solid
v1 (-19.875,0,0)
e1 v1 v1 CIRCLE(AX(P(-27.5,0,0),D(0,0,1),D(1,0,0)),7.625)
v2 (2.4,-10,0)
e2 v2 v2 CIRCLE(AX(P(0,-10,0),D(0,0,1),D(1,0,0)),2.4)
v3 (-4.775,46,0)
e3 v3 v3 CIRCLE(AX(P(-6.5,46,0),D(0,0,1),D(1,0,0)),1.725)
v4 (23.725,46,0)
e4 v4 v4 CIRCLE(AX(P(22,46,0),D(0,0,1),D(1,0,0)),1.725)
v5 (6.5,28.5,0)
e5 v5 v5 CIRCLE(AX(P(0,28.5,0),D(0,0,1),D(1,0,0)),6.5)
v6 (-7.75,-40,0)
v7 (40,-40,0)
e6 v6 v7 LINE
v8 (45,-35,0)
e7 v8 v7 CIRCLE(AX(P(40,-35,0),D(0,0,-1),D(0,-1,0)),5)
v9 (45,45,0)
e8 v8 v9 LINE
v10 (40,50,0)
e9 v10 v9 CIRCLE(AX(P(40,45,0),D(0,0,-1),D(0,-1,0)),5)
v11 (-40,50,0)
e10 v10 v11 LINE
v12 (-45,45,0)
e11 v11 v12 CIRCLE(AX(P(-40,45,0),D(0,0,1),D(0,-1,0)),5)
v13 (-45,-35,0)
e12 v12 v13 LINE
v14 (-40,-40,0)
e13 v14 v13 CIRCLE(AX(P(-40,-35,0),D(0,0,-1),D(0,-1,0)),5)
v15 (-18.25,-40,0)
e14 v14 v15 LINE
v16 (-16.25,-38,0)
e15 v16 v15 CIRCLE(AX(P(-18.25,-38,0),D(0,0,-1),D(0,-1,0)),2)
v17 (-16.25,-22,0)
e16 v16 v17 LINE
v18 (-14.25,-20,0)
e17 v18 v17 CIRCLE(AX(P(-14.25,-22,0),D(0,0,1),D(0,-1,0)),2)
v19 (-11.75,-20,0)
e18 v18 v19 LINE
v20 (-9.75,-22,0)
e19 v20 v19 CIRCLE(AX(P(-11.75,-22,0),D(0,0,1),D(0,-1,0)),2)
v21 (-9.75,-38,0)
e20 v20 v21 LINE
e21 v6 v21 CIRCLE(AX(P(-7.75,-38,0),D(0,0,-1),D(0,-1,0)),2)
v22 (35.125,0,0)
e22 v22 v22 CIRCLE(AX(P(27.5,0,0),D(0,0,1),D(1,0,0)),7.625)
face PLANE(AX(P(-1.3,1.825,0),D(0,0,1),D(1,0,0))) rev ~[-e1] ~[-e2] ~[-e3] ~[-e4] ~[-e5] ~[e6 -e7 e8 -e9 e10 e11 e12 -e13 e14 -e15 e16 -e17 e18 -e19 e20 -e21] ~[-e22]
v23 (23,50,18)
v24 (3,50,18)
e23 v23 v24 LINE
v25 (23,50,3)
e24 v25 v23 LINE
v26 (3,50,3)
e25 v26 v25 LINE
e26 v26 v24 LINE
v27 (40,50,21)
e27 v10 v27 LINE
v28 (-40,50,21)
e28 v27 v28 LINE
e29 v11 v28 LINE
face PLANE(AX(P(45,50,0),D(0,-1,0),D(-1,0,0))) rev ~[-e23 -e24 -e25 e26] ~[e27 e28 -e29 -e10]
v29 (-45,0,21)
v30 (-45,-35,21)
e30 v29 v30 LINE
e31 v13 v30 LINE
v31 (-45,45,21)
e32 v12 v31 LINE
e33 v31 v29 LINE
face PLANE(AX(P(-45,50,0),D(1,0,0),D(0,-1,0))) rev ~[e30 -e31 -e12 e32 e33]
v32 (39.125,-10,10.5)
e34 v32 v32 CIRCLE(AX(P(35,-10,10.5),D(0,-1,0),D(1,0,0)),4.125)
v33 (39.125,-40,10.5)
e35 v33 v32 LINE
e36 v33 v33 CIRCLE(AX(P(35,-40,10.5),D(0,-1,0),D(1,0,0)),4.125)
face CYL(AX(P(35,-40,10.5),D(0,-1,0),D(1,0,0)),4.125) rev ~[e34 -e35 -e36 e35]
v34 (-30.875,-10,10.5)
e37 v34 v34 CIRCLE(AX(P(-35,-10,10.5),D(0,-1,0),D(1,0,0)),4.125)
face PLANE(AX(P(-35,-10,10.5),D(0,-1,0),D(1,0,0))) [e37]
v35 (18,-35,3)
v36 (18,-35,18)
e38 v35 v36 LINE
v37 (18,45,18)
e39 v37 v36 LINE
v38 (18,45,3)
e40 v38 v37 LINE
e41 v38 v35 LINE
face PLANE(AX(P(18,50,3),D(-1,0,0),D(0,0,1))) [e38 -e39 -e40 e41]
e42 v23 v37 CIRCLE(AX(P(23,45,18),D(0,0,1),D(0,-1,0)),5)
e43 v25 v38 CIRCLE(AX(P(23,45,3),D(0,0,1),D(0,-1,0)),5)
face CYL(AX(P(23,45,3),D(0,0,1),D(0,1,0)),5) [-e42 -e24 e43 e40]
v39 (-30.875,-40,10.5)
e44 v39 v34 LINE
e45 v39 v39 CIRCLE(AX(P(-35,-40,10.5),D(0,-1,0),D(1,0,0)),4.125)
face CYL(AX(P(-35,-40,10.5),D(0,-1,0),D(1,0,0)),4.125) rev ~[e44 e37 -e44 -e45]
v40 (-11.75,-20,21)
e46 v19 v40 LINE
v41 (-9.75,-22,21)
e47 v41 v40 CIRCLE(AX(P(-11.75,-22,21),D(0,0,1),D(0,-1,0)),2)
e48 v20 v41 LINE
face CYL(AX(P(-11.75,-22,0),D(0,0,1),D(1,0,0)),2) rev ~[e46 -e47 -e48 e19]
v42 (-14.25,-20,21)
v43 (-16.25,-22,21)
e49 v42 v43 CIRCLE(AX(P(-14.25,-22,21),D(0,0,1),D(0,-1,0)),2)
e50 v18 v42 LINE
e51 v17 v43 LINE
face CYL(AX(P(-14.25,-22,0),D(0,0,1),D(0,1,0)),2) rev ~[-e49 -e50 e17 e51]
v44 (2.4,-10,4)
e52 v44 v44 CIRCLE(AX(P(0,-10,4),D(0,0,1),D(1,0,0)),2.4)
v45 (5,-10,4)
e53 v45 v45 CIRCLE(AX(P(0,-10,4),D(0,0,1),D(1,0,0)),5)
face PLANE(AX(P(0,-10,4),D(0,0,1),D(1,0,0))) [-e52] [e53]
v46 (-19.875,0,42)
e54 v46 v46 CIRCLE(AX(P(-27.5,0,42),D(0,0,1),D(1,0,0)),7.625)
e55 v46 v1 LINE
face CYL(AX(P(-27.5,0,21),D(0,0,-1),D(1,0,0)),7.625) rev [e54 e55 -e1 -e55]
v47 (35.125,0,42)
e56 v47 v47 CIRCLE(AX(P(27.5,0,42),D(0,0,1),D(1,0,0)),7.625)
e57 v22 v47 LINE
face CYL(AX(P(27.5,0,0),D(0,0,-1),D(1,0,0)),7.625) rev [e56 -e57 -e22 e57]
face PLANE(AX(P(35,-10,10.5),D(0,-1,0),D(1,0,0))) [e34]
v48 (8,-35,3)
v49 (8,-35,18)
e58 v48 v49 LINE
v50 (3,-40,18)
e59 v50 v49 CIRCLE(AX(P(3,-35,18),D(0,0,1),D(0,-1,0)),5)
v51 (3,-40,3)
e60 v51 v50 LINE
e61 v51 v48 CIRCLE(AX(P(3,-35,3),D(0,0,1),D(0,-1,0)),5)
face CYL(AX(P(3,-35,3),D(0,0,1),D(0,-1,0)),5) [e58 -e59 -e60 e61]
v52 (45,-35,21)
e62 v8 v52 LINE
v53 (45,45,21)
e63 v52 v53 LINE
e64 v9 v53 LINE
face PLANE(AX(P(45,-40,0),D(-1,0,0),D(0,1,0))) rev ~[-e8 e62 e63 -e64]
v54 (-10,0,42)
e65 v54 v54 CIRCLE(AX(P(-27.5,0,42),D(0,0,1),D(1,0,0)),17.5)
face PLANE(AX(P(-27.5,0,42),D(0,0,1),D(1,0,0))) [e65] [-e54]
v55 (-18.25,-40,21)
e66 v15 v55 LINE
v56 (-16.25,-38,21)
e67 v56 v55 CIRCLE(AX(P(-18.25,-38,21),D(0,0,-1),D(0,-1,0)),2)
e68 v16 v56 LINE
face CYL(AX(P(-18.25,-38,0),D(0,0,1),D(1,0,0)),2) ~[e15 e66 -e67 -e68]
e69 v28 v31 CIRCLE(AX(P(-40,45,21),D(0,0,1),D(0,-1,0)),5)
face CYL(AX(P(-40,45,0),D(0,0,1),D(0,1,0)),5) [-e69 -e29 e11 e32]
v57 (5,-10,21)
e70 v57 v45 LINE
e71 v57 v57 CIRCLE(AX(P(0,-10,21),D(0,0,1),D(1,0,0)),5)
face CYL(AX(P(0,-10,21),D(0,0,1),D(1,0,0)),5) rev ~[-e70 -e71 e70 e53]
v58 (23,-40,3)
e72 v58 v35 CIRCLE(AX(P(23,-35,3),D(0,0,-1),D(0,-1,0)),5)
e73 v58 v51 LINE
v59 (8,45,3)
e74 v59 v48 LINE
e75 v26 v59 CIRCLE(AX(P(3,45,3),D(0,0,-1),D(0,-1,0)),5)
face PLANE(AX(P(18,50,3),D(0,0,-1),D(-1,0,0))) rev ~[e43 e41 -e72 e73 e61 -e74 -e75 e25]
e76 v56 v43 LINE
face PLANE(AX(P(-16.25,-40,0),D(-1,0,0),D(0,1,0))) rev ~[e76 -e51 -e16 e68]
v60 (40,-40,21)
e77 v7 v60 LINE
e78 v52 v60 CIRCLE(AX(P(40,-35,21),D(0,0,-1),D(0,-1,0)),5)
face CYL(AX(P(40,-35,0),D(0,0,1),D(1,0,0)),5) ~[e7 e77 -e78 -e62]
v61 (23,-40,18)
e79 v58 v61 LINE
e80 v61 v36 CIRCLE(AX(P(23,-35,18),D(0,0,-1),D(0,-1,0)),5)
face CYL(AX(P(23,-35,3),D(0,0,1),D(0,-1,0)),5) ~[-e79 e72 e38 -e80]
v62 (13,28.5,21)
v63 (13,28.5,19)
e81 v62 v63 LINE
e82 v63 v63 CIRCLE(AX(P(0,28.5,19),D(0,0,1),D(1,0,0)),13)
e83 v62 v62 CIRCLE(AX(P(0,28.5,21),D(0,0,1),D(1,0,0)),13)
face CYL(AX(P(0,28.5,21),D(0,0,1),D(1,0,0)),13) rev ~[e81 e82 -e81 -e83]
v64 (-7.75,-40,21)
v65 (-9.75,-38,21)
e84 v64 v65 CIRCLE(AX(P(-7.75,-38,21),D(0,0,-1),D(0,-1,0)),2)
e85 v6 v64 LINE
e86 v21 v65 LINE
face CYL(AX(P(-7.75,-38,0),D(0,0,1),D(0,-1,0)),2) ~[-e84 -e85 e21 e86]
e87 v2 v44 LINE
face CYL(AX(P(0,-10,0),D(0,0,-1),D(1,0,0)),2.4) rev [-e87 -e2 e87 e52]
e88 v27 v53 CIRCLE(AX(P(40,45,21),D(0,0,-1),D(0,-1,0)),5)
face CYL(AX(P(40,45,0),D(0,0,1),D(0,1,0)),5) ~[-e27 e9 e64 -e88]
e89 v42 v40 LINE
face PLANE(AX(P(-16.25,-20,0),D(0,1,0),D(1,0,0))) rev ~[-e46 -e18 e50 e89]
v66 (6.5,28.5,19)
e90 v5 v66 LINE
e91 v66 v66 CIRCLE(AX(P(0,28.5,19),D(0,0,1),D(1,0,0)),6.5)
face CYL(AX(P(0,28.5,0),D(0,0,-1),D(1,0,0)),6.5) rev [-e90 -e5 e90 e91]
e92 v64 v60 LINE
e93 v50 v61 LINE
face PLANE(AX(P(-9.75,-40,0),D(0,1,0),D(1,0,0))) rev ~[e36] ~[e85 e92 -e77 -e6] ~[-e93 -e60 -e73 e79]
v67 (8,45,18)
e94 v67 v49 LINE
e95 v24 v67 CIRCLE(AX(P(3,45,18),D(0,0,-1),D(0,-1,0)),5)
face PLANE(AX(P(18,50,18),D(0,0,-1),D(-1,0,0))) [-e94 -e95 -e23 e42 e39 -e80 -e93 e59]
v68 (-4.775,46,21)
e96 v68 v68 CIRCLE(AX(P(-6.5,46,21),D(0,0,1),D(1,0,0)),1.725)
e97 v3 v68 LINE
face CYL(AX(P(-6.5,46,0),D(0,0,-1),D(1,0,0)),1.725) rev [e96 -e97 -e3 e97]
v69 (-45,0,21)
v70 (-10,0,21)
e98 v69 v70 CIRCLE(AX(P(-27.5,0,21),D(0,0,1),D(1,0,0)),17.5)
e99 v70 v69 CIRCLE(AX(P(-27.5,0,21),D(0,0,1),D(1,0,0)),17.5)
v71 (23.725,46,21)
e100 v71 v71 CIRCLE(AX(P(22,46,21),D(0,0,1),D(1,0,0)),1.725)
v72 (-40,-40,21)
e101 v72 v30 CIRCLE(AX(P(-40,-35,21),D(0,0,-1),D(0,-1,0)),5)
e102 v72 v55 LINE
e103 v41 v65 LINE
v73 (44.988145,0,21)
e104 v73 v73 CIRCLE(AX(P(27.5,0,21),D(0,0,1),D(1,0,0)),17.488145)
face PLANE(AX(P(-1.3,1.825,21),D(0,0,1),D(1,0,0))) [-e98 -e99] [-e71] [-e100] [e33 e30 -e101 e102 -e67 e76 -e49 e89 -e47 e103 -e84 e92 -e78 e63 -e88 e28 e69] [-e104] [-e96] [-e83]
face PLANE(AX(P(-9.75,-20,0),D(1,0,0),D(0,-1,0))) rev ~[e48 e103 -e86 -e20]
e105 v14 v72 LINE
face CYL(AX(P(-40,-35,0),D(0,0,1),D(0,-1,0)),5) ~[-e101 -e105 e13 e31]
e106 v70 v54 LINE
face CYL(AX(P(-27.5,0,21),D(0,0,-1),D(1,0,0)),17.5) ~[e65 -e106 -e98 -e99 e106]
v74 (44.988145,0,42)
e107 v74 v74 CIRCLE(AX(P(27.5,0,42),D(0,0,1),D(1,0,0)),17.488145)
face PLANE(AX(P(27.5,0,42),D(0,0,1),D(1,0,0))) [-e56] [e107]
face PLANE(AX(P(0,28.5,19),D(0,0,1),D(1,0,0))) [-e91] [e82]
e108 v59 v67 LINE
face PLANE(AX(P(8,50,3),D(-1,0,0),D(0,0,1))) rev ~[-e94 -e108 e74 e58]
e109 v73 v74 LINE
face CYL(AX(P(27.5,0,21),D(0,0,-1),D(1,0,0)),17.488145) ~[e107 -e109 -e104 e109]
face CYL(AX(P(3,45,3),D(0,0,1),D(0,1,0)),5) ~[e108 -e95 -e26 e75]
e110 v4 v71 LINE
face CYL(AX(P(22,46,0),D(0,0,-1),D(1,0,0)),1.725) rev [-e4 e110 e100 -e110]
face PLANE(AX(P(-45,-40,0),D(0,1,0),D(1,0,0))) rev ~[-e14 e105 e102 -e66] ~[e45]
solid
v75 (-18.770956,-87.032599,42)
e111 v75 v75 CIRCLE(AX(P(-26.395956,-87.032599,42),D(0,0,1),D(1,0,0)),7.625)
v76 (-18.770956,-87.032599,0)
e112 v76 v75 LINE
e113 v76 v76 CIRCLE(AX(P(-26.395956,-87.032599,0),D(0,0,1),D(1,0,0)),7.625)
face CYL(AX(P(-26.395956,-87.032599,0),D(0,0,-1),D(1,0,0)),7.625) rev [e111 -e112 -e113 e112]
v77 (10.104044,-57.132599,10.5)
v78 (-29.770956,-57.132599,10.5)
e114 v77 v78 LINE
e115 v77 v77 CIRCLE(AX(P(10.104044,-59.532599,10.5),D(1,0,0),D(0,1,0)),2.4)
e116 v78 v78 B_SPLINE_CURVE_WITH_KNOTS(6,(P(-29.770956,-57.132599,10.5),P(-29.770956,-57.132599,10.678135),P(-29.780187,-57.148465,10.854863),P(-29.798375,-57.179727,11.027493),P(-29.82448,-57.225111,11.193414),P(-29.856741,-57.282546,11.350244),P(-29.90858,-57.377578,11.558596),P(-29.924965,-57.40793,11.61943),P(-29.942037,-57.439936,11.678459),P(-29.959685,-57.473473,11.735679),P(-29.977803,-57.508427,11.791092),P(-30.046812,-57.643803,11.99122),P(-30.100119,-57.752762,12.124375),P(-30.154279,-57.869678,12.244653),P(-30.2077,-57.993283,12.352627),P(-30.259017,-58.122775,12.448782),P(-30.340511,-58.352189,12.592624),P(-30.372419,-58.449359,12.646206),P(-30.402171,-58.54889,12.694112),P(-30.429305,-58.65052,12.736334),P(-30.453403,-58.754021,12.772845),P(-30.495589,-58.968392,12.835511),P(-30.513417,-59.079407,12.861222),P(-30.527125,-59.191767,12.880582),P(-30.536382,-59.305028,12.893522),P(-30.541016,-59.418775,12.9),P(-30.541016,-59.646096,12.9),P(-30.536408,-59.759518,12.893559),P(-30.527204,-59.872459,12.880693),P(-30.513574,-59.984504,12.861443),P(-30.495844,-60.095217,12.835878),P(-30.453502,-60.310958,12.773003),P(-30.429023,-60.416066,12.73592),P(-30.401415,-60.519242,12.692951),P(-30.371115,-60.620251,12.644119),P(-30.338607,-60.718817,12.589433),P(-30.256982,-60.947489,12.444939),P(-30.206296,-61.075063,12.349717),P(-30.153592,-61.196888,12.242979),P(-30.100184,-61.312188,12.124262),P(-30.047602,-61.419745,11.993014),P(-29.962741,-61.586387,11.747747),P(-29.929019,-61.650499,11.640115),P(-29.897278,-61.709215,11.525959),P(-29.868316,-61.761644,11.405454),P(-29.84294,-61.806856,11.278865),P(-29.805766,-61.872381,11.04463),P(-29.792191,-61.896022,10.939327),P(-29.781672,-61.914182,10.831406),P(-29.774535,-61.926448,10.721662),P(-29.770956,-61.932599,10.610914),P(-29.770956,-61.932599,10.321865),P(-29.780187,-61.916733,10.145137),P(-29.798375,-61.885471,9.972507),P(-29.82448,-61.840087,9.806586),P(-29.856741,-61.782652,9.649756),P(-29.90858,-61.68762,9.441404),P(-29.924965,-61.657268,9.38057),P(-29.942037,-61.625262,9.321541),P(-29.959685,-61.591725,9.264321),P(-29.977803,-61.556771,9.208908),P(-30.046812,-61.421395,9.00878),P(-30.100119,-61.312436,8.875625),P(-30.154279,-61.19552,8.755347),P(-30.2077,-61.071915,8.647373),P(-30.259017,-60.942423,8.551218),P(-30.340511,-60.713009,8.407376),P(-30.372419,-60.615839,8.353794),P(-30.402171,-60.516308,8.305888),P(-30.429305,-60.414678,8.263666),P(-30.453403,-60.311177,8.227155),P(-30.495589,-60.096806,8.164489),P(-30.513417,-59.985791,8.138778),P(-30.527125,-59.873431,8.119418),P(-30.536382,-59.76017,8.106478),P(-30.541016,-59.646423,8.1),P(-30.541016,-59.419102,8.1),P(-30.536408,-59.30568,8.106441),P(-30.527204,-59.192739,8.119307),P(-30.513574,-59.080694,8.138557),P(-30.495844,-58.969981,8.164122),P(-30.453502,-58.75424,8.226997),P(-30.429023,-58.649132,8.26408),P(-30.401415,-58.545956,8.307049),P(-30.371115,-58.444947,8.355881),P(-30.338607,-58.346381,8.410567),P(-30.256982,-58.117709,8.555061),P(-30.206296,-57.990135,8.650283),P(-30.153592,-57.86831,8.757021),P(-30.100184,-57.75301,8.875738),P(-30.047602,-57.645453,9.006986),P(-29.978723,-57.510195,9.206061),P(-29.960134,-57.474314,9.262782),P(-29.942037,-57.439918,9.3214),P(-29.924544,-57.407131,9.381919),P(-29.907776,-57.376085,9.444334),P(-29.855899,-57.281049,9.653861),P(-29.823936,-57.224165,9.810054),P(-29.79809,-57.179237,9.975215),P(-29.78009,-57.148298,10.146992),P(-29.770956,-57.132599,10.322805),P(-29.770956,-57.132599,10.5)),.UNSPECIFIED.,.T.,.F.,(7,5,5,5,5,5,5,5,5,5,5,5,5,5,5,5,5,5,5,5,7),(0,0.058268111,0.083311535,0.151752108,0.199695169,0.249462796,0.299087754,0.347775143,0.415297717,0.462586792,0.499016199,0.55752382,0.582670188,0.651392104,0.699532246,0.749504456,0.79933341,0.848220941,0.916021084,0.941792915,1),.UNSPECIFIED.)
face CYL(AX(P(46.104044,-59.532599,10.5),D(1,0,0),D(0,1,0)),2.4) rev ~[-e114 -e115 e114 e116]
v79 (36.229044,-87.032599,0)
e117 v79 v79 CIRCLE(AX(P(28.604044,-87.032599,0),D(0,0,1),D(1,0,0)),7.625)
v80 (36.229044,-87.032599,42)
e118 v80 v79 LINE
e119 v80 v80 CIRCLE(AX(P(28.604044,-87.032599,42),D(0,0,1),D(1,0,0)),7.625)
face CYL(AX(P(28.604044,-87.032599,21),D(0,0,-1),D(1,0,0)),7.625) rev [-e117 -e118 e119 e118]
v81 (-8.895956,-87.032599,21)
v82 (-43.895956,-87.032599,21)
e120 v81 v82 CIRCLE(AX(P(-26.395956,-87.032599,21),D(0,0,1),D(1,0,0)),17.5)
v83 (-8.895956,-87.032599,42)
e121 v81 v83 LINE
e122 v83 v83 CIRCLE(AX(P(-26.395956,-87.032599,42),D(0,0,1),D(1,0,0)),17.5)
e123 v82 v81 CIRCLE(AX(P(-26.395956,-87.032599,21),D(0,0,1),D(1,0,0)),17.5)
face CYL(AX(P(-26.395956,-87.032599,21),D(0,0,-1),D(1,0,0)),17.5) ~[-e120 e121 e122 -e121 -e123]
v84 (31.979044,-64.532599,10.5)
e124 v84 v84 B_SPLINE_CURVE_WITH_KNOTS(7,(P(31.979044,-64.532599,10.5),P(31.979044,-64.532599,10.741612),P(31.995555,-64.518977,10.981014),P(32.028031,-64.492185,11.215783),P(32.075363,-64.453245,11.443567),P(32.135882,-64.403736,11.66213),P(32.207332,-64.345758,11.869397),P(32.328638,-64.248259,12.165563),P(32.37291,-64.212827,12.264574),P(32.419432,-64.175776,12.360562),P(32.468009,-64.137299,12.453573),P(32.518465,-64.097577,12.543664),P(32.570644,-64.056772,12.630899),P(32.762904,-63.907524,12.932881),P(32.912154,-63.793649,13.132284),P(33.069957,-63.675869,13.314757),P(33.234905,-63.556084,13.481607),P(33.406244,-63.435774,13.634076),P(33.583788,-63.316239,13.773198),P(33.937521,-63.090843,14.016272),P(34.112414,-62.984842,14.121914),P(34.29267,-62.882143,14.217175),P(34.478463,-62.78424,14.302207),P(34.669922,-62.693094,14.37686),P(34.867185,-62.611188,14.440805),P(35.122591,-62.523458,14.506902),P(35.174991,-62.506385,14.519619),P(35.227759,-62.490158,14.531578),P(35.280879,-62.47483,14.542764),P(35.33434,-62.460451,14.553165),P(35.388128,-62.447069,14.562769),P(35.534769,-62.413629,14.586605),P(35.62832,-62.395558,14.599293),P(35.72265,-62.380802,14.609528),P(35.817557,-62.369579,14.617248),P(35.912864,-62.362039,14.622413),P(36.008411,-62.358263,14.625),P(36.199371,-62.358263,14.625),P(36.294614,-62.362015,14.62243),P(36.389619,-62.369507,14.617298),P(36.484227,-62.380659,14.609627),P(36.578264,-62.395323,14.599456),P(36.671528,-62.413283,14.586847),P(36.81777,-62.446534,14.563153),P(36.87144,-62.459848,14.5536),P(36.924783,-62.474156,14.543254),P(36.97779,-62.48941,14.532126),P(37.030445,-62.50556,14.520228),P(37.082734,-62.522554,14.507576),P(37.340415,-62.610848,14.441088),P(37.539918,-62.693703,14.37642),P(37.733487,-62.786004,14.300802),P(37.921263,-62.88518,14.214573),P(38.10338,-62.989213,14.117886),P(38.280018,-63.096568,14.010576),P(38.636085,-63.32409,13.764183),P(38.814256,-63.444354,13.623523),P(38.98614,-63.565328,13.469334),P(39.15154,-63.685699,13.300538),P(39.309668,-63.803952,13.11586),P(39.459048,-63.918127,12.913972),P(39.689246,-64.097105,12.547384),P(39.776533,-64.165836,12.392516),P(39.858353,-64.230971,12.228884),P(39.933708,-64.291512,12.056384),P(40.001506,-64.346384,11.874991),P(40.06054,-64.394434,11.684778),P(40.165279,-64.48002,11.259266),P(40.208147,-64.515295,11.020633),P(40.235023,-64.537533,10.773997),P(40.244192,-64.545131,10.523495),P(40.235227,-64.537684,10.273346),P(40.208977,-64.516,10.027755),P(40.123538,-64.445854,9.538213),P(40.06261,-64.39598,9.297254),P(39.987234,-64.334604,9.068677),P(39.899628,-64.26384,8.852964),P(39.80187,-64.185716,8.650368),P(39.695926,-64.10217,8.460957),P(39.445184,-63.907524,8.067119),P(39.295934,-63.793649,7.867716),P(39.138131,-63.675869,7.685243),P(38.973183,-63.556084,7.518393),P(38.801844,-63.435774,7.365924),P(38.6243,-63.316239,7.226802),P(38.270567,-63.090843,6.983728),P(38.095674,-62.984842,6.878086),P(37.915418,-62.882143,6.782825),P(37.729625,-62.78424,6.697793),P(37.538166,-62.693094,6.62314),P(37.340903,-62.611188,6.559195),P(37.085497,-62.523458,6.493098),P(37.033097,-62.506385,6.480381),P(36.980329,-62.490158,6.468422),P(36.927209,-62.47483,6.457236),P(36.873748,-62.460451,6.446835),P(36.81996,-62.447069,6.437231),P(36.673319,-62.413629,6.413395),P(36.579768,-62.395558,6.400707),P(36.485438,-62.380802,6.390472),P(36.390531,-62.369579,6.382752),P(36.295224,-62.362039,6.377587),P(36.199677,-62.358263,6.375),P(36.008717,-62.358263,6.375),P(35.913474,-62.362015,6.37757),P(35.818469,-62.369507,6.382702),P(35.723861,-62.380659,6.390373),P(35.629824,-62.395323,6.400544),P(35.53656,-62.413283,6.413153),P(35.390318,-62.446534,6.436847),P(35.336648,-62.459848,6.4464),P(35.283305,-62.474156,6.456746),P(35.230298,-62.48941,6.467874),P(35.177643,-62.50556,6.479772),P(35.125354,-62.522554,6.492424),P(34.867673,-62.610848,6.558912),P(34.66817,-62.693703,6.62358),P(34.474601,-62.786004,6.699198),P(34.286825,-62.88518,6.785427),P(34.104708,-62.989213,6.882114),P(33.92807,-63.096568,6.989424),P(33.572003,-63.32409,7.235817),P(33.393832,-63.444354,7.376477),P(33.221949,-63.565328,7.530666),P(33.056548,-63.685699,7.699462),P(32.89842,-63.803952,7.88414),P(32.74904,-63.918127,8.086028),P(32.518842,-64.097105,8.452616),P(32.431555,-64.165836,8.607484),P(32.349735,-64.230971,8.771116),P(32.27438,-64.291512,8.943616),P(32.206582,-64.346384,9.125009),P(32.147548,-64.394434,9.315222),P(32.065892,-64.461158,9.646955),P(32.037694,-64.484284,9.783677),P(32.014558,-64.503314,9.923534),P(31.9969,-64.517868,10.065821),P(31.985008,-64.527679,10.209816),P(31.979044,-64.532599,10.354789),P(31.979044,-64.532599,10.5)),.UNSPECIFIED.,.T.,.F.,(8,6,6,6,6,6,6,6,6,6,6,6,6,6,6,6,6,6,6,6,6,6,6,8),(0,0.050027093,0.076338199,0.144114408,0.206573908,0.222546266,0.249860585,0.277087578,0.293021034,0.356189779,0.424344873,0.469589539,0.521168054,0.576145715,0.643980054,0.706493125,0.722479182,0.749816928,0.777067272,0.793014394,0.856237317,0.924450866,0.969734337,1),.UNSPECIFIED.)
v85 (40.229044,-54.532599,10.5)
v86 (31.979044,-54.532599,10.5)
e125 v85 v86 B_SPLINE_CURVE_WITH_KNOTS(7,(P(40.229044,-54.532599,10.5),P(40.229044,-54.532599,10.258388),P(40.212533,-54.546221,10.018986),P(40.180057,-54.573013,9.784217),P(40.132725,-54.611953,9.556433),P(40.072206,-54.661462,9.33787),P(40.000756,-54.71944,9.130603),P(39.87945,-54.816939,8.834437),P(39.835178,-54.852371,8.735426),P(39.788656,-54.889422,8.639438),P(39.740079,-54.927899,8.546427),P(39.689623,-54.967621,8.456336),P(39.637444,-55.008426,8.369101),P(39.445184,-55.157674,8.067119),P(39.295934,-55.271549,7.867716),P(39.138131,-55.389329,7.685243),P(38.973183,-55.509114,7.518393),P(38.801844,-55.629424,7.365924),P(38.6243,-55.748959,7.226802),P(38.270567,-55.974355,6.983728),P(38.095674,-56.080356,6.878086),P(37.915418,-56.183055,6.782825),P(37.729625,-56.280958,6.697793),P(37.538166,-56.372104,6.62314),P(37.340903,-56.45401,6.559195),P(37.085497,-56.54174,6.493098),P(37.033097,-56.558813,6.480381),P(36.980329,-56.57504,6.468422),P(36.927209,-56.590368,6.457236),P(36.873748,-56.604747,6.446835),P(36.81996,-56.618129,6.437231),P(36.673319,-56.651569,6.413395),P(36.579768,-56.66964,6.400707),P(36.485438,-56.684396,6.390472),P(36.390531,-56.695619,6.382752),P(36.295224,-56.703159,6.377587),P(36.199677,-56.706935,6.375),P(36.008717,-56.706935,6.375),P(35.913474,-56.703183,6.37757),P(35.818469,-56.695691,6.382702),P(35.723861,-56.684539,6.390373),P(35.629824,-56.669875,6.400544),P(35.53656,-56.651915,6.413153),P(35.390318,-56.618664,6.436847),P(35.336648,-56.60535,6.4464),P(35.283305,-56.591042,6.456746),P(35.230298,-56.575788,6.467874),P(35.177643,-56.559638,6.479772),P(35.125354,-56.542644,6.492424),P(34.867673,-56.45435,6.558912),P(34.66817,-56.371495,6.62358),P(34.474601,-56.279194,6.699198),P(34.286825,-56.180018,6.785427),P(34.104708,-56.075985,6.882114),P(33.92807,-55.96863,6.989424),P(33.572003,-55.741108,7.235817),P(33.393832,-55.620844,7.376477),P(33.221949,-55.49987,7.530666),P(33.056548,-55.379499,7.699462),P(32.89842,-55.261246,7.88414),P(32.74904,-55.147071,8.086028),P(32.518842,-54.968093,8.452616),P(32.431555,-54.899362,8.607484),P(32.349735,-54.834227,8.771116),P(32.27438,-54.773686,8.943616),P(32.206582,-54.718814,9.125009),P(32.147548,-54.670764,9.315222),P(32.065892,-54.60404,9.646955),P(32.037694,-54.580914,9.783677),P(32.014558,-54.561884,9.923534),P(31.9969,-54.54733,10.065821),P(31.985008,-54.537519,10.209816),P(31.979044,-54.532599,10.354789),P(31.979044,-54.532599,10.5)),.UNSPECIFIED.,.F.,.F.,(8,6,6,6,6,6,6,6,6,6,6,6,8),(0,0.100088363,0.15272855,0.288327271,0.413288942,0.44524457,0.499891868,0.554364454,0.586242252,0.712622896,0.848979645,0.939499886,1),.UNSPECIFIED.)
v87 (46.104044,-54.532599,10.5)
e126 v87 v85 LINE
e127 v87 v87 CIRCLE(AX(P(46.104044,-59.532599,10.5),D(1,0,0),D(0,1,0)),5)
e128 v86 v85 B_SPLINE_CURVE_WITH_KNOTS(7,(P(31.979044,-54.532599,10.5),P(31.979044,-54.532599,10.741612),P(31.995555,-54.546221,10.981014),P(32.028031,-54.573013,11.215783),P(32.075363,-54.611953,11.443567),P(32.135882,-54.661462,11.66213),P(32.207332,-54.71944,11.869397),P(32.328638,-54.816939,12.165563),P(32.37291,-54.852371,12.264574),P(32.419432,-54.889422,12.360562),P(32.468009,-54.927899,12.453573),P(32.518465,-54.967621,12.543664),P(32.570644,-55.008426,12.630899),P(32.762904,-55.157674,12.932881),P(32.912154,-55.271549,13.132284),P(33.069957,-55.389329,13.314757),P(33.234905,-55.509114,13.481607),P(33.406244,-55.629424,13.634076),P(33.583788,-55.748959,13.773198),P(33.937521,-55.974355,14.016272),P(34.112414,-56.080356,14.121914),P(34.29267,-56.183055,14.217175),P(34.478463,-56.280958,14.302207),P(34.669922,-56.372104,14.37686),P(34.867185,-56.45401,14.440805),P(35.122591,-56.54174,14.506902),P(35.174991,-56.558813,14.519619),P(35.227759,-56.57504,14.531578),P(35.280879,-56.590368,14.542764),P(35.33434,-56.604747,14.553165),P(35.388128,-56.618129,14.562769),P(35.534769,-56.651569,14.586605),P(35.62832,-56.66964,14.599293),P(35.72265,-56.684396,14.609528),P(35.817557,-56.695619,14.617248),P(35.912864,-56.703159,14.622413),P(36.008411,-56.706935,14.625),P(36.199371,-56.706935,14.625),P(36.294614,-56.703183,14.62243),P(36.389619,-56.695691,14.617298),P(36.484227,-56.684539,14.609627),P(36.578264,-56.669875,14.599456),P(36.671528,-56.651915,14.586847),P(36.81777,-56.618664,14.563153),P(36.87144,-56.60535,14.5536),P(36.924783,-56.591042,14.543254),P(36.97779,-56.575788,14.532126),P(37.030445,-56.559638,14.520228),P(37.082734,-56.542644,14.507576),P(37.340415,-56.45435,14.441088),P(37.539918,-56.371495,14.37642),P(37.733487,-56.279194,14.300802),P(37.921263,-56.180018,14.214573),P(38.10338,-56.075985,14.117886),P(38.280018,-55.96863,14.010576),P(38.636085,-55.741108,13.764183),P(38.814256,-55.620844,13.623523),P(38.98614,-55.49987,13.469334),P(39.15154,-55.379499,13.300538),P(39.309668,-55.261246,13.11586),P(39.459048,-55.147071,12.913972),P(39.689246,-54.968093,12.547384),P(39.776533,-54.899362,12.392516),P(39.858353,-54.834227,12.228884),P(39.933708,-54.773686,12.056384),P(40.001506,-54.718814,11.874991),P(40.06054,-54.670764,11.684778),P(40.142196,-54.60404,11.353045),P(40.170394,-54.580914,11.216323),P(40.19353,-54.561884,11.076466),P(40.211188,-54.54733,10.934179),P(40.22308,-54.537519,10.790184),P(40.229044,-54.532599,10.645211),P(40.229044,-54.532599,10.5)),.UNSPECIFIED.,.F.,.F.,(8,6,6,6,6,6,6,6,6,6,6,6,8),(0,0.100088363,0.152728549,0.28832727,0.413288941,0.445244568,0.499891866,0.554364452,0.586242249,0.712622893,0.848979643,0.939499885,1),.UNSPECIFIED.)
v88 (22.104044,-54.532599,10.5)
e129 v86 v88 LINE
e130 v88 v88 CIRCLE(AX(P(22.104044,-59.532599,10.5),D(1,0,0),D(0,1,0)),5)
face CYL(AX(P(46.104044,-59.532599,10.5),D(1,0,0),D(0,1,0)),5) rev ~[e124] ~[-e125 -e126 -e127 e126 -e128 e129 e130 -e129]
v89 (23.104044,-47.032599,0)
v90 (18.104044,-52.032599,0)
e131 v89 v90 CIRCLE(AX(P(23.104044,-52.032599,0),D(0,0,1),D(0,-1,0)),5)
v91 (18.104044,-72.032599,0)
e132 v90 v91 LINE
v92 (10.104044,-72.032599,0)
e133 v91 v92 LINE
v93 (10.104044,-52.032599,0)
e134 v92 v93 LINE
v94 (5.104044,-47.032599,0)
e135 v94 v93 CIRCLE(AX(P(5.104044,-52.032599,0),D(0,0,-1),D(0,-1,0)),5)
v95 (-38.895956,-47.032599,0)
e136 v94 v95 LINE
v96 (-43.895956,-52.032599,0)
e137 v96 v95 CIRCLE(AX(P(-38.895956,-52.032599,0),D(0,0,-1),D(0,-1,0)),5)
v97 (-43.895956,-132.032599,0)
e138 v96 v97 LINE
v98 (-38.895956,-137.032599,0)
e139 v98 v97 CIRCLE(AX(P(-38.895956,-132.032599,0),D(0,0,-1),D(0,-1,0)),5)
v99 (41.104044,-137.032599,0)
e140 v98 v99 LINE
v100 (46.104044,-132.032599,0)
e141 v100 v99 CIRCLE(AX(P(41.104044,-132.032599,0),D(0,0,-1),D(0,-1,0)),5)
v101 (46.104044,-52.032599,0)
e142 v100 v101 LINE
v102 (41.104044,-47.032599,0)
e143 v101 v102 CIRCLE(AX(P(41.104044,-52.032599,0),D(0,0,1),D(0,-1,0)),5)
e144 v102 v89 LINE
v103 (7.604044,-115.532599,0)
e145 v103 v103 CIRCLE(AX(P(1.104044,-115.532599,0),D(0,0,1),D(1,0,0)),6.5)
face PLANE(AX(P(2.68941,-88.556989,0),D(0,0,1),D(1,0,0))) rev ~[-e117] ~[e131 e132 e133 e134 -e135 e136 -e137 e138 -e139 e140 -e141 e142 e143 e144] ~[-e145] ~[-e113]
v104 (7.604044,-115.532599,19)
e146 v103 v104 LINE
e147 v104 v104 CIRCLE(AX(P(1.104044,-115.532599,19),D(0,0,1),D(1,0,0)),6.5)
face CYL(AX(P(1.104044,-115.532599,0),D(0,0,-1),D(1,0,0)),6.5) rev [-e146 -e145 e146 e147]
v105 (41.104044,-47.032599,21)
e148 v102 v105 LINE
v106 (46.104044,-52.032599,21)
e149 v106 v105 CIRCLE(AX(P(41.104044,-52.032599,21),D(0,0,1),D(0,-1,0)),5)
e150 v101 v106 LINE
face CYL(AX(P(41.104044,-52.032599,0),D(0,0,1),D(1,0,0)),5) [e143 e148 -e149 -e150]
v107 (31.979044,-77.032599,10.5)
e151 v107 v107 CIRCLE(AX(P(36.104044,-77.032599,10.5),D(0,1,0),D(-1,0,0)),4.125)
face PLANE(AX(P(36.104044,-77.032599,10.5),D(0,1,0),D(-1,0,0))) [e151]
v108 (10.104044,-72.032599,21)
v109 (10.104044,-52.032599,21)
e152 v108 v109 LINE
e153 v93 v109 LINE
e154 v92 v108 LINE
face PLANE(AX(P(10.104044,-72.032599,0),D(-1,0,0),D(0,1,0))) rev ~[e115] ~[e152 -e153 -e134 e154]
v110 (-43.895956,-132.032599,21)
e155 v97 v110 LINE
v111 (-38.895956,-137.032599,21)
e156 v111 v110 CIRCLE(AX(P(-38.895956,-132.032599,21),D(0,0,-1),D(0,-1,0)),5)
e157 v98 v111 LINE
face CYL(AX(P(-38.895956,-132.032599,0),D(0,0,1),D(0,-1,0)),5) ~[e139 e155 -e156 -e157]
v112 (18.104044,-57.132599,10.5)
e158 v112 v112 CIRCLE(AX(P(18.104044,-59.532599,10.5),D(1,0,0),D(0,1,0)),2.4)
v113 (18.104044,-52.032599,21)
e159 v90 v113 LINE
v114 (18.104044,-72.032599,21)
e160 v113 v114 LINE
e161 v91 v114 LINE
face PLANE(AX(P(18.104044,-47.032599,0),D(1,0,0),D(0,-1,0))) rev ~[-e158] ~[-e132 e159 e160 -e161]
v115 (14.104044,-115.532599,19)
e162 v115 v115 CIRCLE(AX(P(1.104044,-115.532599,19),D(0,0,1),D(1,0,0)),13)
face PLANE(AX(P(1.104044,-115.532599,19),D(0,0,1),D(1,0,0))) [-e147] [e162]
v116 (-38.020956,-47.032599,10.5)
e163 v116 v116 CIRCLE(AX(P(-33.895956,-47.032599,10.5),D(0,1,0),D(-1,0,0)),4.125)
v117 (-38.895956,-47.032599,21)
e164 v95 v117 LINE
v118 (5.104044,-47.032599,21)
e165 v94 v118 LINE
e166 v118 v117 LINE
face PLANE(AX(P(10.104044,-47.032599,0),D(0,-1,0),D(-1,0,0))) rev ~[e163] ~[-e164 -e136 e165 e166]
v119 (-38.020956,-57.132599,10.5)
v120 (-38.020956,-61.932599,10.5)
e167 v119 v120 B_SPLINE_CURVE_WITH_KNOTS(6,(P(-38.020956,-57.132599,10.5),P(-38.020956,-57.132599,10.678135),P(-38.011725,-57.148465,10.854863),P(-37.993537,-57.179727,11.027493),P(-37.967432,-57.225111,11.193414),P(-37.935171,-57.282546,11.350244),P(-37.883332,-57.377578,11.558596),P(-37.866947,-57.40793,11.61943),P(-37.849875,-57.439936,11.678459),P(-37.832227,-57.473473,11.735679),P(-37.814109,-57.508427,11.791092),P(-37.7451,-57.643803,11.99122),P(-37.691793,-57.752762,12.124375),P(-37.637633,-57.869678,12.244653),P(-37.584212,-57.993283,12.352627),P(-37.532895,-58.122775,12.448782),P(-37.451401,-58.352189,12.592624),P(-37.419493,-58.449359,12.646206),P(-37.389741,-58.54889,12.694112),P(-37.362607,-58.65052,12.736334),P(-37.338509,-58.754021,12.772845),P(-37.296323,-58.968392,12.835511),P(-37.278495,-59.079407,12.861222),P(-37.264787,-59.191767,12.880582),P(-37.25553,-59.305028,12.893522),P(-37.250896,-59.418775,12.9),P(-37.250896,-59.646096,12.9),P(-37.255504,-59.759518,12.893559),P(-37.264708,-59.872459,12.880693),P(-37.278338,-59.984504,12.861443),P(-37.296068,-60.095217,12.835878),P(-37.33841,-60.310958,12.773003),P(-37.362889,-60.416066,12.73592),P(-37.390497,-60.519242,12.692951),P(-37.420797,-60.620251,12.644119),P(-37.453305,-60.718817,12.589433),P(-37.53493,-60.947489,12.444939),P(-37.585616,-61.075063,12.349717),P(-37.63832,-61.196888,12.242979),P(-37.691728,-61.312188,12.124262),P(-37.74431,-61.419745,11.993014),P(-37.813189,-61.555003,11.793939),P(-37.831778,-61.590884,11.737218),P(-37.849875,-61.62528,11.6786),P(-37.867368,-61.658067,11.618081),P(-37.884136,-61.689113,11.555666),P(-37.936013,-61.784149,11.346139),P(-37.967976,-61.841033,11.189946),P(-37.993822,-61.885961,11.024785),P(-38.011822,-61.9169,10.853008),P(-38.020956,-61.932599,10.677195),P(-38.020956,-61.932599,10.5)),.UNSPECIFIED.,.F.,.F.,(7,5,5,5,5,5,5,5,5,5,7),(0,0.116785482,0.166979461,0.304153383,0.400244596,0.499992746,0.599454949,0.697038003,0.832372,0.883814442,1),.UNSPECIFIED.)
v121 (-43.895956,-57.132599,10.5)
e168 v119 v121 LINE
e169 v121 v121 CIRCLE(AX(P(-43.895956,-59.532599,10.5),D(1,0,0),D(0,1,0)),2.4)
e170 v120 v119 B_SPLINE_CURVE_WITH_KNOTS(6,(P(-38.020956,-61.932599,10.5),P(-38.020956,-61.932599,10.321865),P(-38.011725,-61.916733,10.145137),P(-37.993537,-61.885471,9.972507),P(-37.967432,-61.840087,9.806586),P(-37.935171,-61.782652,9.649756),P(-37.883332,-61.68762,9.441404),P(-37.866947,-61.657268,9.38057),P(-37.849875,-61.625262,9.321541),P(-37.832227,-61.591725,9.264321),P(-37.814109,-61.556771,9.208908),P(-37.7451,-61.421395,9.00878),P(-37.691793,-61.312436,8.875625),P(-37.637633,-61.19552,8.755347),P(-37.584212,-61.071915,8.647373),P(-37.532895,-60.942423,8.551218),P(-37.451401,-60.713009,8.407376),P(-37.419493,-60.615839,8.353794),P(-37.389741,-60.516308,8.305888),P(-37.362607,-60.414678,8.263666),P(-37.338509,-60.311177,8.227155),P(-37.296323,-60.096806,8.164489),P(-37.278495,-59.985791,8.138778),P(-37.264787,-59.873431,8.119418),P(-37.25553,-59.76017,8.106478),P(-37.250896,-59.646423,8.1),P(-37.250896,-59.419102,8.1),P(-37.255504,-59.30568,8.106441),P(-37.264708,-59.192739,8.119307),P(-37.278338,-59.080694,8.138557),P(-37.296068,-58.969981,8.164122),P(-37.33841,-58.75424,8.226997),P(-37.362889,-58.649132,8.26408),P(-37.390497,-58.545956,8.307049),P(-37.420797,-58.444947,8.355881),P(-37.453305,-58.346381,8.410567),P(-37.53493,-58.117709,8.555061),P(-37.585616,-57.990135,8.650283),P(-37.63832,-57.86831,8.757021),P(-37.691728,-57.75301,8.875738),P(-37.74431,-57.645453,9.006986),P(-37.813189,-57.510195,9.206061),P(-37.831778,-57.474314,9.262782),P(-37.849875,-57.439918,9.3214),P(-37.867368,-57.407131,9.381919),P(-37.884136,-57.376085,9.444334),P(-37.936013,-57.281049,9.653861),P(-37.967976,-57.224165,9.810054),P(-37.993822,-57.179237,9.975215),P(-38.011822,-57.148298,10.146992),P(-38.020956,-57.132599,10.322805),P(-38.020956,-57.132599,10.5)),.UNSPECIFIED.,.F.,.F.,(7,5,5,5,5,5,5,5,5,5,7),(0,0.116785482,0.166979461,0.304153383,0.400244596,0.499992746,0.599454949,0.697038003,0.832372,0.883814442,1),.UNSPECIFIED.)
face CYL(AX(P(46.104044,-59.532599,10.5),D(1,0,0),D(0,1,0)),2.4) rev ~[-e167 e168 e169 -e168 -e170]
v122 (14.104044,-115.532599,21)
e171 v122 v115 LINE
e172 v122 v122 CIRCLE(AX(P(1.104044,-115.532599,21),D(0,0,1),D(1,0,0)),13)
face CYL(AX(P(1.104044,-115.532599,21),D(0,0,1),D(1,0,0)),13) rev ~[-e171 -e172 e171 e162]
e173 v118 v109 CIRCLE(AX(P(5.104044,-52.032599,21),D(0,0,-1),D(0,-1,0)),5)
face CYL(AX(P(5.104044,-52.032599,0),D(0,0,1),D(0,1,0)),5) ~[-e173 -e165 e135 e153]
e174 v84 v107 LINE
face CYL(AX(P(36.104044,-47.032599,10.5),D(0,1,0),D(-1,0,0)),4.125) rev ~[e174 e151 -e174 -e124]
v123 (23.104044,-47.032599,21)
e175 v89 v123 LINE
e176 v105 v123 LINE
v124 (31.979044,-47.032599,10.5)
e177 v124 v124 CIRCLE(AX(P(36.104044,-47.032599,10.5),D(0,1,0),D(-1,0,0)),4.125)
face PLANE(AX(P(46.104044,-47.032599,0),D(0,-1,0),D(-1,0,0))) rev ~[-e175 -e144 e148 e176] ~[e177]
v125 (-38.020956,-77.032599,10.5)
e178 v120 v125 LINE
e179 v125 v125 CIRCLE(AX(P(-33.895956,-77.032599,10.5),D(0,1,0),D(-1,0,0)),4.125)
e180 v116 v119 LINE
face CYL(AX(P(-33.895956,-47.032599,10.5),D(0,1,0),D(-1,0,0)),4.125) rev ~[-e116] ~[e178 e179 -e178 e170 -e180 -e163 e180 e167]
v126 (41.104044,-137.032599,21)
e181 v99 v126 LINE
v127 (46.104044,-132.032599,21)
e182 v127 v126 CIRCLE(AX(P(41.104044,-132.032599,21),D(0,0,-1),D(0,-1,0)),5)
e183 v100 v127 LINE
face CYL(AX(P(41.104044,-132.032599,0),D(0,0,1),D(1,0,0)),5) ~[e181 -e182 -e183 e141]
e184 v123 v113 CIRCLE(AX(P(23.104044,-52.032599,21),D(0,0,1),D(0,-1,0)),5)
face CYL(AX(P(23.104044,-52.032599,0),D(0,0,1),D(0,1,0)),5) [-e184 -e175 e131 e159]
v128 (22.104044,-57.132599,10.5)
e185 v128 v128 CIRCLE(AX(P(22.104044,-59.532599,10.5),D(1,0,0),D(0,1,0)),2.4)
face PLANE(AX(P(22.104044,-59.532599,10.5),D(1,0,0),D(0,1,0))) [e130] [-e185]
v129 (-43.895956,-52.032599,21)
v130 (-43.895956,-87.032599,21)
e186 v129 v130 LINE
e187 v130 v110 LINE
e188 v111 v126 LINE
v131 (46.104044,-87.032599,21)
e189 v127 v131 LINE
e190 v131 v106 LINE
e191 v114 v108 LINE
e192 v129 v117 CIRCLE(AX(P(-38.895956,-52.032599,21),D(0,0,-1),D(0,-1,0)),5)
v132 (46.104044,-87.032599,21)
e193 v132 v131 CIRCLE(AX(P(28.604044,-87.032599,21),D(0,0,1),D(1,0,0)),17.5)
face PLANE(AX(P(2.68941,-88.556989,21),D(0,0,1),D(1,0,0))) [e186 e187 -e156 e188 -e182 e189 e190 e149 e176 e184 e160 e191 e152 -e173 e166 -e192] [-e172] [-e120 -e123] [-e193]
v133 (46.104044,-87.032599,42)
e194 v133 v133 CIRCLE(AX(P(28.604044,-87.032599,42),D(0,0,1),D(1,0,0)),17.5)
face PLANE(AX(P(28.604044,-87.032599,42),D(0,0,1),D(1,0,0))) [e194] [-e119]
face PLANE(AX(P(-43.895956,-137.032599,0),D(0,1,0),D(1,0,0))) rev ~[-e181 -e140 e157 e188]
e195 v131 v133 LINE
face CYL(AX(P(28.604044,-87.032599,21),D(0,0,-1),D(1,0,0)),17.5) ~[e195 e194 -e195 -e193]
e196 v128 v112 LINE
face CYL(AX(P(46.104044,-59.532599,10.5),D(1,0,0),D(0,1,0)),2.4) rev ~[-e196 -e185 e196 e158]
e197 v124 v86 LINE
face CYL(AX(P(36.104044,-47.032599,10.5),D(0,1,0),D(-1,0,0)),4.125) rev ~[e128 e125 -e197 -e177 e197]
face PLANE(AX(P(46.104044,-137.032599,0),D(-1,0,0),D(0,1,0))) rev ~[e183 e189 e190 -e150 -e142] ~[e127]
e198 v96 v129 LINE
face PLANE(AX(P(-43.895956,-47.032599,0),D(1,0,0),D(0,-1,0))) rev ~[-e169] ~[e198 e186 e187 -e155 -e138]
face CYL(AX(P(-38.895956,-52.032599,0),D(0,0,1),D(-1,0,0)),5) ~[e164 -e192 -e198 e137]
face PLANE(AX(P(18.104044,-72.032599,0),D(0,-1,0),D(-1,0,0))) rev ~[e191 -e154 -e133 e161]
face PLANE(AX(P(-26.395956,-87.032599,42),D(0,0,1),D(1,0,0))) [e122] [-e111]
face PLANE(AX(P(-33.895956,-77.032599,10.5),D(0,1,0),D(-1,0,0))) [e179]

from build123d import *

# Parameters (mm, degrees)
F0_R      = 7.625
F0_R_2    = 2.4
F0_R_3    = 1.725
F0_R_4    = 6.5
F1_DEPTH  = 21
F2_R      = 5
F2_R_2    = 2.4
F3_DEPTH  = 17
F4_R      = 7.625
F4_R_2    = 17.488145
F5_DEPTH  = 21
F6_W      = 10
F6_H      = 15
F7_DEPTH  = 90.001
F9_R      = 4.125
F10_DEPTH = 30
F11_R     = 5
F4_R_3    = 13
F4_R_4    = 6.5
F12_DEPTH = 2
F13_R     = 2
F14_R     = 6.5
F14_R_2   = 7.625
F15_DEPTH = 21
F16_R     = 5
F17_R     = 13
F17_R_2   = 6.5
F18_DEPTH = 2
F19_R     = 17.5
F19_R_2   = 7.625
F20_DEPTH = 21
F21_R     = 2.4
F21_R_2   = 5
F22_DEPTH = 24
F23_DEPTH = 91.105044
F25_R     = 4.125
F24_R     = 4.125
F26_DEPTH = 30


with BuildPart() as f1:
    # F0 (on Top) → F1 (new body)
    with BuildSketch(Plane.XY):
        Polygon((-45, 50), (-45, -40), (-16.25, -40), (-16.25, -20), (-9.75, -20), (-9.75, -40), (45, -40), (45, 50), align=None)
        with Locations((-27.5, 0)):
            Circle(F0_R, mode=Mode.SUBTRACT)
        with Locations((0, -10)):
            Circle(F0_R_2, mode=Mode.SUBTRACT)
        with Locations((27.5, 0)):
            Circle(F0_R, mode=Mode.SUBTRACT)
        with Locations((-6.5, 46)):
            Circle(F0_R_3, mode=Mode.SUBTRACT)
        with Locations((0, 28.5)):
            Circle(F0_R_4, mode=Mode.SUBTRACT)
        with Locations((22, 46)):
            Circle(F0_R_3, mode=Mode.SUBTRACT)
    extrude(amount=F1_DEPTH)

    # F2 (on face) → F3 (cut)
    with BuildSketch(Plane.XY.offset(21)):
        with Locations((0, -10)):
            Circle(F2_R)
        with Locations((0, -10)):
            Circle(F2_R_2, mode=Mode.SUBTRACT)
    extrude(amount=-F3_DEPTH, mode=Mode.SUBTRACT)

    # F4 (on face) → F5 (join)
    with BuildSketch(Plane.XY.offset(21)):
        with BuildLine():
            ThreePointArc((-45, 0), (-27.5, -17.5), (-10, 0))
            ThreePointArc((-10, 0), (-27.5, 17.5), (-45, 0))
        make_face()
        with Locations((-27.5, 0)):
            Circle(F4_R, mode=Mode.SUBTRACT)
        with Locations((27.5, 0)):
            Circle(F4_R_2)
        with Locations((27.5, 0)):
            Circle(F4_R, mode=Mode.SUBTRACT)
    extrude(amount=F5_DEPTH)

    # F6 (on face) → F7 (cut, through all)
    with BuildSketch(Plane(origin=(0, 50, 0), x_dir=(-1, 0, 0), z_dir=(0, 1, 0))):
        with Locations((-13, 10.5)):
            Rectangle(F6_W, F6_H)
    extrude(amount=-F7_DEPTH, mode=Mode.SUBTRACT)

    # F9 (on face) → F10 (cut)
    with BuildSketch(Plane.XZ.offset(40)):
        with Locations((-35, 10.5)):
            Circle(F9_R)
        with Locations((35, 10.5)):
            Circle(F9_R)
    extrude(amount=-F10_DEPTH, mode=Mode.SUBTRACT)

    # F11
    f11_edges = [f1.edges().sort_by_distance(p)[0] for p in [
        (-45, -40, 10.5),
        (45, -40, 10.5),
        (45, 50, 10.5),
        (8, -40, 10.5),
        (18, -40, 10.5),
        (8, 50, 10.5),
        (18, 50, 10.5),
        (-45, 50, 10.5),
    ]]
    fillet(f11_edges, radius=F11_R)

    # F4 (on face) → F12 (cut)
    with BuildSketch(Plane.XY.offset(21)):
        with Locations((0, 28.5)):
            Circle(F4_R_3)
        with Locations((0, 28.5)):
            Circle(F4_R_4, mode=Mode.SUBTRACT)
    extrude(amount=-F12_DEPTH, mode=Mode.SUBTRACT)

    # F13
    f13_edges = [f1.edges().sort_by_distance(p)[0] for p in [
        (-16.25, -40, 10.5),
        (-9.75, -40, 10.5),
        (-9.75, -20, 10.5),
        (-16.25, -20, 10.5),
    ]]
    fillet(f13_edges, radius=F13_R)


with BuildPart() as f15:
    # F14 (on Top) → F15 (new body)
    with BuildSketch(Plane.XY):
        Polygon((46.104044, -137.032599), (46.104044, -47.032599), (18.104044, -47.032599), (18.104044, -72.032599), (10.104044, -72.032599), (10.104044, -47.032599), (-43.895956, -47.032599), (-43.895956, -137.032599), align=None)
        with Locations((1.104044, -115.532599)):
            Circle(F14_R, mode=Mode.SUBTRACT)
        with Locations((-26.395956, -87.032599)):
            Circle(F14_R_2, mode=Mode.SUBTRACT)
        with Locations((28.604044, -87.032599)):
            Circle(F14_R_2, mode=Mode.SUBTRACT)
    extrude(amount=F15_DEPTH)

    # F16
    f16_edges = [f15.edges().sort_by_distance(p)[0] for p in [
        (18.104044, -47.032599, 10.5),
        (-43.895956, -47.032599, 10.5),
        (10.104044, -47.032599, 10.5),
        (-43.895956, -137.032599, 10.5),
        (46.104044, -137.032599, 10.5),
        (46.104044, -47.032599, 10.5),
    ]]
    fillet(f16_edges, radius=F16_R)

    # F17 (on face) → F18 (cut)
    with BuildSketch(Plane.XY.offset(21)):
        with Locations((1.104044, -115.532599)):
            Circle(F17_R)
        with Locations((1.104044, -115.532599)):
            Circle(F17_R_2, mode=Mode.SUBTRACT)
    extrude(amount=-F18_DEPTH, mode=Mode.SUBTRACT)

    # F19 (on face) → F20 (join)
    with BuildSketch(Plane.XY.offset(21)):
        with Locations((28.604044, -87.032599)):
            Circle(F19_R)
        with Locations((28.604044, -87.032599)):
            Circle(F19_R_2, mode=Mode.SUBTRACT)
        with BuildLine():
            ThreePointArc((-43.895956, -87.032599), (-26.395956, -104.532599), (-8.895956, -87.032599))
            ThreePointArc((-8.895956, -87.032599), (-26.395956, -69.532599), (-43.895956, -87.032599))
        make_face()
        with Locations((-26.395956, -87.032599)):
            Circle(F19_R_2, mode=Mode.SUBTRACT)
    extrude(amount=F20_DEPTH)

    # F21 (on face) → F22 (cut)
    with BuildSketch(Plane.YZ.offset(46.104044)):
        with Locations((-59.532599, 10.5)):
            Circle(F21_R)
        with Locations((-59.532599, 10.5)):
            Circle(F21_R_2)
        with Locations((-59.532599, 10.5)):
            Circle(F21_R, mode=Mode.SUBTRACT)
    extrude(amount=-F22_DEPTH, mode=Mode.SUBTRACT)

    # F21 (on face) → F23 (cut, through all)
    with BuildSketch(Plane.YZ.offset(46.104044)):
        with Locations((-59.532599, 10.5)):
            Circle(F21_R)
    extrude(amount=-F23_DEPTH, mode=Mode.SUBTRACT)

    # F25 (on face) + F24 (on face) → F26 (cut)
    with BuildSketch(Plane(origin=(0, -47.032599, 0), x_dir=(-1, 0, 0), z_dir=(0, 1, 0))):
        with Locations((-36.104044, 10.5)):
            Circle(F25_R)
    with BuildSketch(Plane(origin=(0, -47.032599, 0), x_dir=(-1, 0, 0), z_dir=(0, 1, 0))):
        with Locations((33.895956, 10.5)):
            Circle(F24_R)
    extrude(amount=-F26_DEPTH, mode=Mode.SUBTRACT)


solid = Compound([f1.part, f15.part])
